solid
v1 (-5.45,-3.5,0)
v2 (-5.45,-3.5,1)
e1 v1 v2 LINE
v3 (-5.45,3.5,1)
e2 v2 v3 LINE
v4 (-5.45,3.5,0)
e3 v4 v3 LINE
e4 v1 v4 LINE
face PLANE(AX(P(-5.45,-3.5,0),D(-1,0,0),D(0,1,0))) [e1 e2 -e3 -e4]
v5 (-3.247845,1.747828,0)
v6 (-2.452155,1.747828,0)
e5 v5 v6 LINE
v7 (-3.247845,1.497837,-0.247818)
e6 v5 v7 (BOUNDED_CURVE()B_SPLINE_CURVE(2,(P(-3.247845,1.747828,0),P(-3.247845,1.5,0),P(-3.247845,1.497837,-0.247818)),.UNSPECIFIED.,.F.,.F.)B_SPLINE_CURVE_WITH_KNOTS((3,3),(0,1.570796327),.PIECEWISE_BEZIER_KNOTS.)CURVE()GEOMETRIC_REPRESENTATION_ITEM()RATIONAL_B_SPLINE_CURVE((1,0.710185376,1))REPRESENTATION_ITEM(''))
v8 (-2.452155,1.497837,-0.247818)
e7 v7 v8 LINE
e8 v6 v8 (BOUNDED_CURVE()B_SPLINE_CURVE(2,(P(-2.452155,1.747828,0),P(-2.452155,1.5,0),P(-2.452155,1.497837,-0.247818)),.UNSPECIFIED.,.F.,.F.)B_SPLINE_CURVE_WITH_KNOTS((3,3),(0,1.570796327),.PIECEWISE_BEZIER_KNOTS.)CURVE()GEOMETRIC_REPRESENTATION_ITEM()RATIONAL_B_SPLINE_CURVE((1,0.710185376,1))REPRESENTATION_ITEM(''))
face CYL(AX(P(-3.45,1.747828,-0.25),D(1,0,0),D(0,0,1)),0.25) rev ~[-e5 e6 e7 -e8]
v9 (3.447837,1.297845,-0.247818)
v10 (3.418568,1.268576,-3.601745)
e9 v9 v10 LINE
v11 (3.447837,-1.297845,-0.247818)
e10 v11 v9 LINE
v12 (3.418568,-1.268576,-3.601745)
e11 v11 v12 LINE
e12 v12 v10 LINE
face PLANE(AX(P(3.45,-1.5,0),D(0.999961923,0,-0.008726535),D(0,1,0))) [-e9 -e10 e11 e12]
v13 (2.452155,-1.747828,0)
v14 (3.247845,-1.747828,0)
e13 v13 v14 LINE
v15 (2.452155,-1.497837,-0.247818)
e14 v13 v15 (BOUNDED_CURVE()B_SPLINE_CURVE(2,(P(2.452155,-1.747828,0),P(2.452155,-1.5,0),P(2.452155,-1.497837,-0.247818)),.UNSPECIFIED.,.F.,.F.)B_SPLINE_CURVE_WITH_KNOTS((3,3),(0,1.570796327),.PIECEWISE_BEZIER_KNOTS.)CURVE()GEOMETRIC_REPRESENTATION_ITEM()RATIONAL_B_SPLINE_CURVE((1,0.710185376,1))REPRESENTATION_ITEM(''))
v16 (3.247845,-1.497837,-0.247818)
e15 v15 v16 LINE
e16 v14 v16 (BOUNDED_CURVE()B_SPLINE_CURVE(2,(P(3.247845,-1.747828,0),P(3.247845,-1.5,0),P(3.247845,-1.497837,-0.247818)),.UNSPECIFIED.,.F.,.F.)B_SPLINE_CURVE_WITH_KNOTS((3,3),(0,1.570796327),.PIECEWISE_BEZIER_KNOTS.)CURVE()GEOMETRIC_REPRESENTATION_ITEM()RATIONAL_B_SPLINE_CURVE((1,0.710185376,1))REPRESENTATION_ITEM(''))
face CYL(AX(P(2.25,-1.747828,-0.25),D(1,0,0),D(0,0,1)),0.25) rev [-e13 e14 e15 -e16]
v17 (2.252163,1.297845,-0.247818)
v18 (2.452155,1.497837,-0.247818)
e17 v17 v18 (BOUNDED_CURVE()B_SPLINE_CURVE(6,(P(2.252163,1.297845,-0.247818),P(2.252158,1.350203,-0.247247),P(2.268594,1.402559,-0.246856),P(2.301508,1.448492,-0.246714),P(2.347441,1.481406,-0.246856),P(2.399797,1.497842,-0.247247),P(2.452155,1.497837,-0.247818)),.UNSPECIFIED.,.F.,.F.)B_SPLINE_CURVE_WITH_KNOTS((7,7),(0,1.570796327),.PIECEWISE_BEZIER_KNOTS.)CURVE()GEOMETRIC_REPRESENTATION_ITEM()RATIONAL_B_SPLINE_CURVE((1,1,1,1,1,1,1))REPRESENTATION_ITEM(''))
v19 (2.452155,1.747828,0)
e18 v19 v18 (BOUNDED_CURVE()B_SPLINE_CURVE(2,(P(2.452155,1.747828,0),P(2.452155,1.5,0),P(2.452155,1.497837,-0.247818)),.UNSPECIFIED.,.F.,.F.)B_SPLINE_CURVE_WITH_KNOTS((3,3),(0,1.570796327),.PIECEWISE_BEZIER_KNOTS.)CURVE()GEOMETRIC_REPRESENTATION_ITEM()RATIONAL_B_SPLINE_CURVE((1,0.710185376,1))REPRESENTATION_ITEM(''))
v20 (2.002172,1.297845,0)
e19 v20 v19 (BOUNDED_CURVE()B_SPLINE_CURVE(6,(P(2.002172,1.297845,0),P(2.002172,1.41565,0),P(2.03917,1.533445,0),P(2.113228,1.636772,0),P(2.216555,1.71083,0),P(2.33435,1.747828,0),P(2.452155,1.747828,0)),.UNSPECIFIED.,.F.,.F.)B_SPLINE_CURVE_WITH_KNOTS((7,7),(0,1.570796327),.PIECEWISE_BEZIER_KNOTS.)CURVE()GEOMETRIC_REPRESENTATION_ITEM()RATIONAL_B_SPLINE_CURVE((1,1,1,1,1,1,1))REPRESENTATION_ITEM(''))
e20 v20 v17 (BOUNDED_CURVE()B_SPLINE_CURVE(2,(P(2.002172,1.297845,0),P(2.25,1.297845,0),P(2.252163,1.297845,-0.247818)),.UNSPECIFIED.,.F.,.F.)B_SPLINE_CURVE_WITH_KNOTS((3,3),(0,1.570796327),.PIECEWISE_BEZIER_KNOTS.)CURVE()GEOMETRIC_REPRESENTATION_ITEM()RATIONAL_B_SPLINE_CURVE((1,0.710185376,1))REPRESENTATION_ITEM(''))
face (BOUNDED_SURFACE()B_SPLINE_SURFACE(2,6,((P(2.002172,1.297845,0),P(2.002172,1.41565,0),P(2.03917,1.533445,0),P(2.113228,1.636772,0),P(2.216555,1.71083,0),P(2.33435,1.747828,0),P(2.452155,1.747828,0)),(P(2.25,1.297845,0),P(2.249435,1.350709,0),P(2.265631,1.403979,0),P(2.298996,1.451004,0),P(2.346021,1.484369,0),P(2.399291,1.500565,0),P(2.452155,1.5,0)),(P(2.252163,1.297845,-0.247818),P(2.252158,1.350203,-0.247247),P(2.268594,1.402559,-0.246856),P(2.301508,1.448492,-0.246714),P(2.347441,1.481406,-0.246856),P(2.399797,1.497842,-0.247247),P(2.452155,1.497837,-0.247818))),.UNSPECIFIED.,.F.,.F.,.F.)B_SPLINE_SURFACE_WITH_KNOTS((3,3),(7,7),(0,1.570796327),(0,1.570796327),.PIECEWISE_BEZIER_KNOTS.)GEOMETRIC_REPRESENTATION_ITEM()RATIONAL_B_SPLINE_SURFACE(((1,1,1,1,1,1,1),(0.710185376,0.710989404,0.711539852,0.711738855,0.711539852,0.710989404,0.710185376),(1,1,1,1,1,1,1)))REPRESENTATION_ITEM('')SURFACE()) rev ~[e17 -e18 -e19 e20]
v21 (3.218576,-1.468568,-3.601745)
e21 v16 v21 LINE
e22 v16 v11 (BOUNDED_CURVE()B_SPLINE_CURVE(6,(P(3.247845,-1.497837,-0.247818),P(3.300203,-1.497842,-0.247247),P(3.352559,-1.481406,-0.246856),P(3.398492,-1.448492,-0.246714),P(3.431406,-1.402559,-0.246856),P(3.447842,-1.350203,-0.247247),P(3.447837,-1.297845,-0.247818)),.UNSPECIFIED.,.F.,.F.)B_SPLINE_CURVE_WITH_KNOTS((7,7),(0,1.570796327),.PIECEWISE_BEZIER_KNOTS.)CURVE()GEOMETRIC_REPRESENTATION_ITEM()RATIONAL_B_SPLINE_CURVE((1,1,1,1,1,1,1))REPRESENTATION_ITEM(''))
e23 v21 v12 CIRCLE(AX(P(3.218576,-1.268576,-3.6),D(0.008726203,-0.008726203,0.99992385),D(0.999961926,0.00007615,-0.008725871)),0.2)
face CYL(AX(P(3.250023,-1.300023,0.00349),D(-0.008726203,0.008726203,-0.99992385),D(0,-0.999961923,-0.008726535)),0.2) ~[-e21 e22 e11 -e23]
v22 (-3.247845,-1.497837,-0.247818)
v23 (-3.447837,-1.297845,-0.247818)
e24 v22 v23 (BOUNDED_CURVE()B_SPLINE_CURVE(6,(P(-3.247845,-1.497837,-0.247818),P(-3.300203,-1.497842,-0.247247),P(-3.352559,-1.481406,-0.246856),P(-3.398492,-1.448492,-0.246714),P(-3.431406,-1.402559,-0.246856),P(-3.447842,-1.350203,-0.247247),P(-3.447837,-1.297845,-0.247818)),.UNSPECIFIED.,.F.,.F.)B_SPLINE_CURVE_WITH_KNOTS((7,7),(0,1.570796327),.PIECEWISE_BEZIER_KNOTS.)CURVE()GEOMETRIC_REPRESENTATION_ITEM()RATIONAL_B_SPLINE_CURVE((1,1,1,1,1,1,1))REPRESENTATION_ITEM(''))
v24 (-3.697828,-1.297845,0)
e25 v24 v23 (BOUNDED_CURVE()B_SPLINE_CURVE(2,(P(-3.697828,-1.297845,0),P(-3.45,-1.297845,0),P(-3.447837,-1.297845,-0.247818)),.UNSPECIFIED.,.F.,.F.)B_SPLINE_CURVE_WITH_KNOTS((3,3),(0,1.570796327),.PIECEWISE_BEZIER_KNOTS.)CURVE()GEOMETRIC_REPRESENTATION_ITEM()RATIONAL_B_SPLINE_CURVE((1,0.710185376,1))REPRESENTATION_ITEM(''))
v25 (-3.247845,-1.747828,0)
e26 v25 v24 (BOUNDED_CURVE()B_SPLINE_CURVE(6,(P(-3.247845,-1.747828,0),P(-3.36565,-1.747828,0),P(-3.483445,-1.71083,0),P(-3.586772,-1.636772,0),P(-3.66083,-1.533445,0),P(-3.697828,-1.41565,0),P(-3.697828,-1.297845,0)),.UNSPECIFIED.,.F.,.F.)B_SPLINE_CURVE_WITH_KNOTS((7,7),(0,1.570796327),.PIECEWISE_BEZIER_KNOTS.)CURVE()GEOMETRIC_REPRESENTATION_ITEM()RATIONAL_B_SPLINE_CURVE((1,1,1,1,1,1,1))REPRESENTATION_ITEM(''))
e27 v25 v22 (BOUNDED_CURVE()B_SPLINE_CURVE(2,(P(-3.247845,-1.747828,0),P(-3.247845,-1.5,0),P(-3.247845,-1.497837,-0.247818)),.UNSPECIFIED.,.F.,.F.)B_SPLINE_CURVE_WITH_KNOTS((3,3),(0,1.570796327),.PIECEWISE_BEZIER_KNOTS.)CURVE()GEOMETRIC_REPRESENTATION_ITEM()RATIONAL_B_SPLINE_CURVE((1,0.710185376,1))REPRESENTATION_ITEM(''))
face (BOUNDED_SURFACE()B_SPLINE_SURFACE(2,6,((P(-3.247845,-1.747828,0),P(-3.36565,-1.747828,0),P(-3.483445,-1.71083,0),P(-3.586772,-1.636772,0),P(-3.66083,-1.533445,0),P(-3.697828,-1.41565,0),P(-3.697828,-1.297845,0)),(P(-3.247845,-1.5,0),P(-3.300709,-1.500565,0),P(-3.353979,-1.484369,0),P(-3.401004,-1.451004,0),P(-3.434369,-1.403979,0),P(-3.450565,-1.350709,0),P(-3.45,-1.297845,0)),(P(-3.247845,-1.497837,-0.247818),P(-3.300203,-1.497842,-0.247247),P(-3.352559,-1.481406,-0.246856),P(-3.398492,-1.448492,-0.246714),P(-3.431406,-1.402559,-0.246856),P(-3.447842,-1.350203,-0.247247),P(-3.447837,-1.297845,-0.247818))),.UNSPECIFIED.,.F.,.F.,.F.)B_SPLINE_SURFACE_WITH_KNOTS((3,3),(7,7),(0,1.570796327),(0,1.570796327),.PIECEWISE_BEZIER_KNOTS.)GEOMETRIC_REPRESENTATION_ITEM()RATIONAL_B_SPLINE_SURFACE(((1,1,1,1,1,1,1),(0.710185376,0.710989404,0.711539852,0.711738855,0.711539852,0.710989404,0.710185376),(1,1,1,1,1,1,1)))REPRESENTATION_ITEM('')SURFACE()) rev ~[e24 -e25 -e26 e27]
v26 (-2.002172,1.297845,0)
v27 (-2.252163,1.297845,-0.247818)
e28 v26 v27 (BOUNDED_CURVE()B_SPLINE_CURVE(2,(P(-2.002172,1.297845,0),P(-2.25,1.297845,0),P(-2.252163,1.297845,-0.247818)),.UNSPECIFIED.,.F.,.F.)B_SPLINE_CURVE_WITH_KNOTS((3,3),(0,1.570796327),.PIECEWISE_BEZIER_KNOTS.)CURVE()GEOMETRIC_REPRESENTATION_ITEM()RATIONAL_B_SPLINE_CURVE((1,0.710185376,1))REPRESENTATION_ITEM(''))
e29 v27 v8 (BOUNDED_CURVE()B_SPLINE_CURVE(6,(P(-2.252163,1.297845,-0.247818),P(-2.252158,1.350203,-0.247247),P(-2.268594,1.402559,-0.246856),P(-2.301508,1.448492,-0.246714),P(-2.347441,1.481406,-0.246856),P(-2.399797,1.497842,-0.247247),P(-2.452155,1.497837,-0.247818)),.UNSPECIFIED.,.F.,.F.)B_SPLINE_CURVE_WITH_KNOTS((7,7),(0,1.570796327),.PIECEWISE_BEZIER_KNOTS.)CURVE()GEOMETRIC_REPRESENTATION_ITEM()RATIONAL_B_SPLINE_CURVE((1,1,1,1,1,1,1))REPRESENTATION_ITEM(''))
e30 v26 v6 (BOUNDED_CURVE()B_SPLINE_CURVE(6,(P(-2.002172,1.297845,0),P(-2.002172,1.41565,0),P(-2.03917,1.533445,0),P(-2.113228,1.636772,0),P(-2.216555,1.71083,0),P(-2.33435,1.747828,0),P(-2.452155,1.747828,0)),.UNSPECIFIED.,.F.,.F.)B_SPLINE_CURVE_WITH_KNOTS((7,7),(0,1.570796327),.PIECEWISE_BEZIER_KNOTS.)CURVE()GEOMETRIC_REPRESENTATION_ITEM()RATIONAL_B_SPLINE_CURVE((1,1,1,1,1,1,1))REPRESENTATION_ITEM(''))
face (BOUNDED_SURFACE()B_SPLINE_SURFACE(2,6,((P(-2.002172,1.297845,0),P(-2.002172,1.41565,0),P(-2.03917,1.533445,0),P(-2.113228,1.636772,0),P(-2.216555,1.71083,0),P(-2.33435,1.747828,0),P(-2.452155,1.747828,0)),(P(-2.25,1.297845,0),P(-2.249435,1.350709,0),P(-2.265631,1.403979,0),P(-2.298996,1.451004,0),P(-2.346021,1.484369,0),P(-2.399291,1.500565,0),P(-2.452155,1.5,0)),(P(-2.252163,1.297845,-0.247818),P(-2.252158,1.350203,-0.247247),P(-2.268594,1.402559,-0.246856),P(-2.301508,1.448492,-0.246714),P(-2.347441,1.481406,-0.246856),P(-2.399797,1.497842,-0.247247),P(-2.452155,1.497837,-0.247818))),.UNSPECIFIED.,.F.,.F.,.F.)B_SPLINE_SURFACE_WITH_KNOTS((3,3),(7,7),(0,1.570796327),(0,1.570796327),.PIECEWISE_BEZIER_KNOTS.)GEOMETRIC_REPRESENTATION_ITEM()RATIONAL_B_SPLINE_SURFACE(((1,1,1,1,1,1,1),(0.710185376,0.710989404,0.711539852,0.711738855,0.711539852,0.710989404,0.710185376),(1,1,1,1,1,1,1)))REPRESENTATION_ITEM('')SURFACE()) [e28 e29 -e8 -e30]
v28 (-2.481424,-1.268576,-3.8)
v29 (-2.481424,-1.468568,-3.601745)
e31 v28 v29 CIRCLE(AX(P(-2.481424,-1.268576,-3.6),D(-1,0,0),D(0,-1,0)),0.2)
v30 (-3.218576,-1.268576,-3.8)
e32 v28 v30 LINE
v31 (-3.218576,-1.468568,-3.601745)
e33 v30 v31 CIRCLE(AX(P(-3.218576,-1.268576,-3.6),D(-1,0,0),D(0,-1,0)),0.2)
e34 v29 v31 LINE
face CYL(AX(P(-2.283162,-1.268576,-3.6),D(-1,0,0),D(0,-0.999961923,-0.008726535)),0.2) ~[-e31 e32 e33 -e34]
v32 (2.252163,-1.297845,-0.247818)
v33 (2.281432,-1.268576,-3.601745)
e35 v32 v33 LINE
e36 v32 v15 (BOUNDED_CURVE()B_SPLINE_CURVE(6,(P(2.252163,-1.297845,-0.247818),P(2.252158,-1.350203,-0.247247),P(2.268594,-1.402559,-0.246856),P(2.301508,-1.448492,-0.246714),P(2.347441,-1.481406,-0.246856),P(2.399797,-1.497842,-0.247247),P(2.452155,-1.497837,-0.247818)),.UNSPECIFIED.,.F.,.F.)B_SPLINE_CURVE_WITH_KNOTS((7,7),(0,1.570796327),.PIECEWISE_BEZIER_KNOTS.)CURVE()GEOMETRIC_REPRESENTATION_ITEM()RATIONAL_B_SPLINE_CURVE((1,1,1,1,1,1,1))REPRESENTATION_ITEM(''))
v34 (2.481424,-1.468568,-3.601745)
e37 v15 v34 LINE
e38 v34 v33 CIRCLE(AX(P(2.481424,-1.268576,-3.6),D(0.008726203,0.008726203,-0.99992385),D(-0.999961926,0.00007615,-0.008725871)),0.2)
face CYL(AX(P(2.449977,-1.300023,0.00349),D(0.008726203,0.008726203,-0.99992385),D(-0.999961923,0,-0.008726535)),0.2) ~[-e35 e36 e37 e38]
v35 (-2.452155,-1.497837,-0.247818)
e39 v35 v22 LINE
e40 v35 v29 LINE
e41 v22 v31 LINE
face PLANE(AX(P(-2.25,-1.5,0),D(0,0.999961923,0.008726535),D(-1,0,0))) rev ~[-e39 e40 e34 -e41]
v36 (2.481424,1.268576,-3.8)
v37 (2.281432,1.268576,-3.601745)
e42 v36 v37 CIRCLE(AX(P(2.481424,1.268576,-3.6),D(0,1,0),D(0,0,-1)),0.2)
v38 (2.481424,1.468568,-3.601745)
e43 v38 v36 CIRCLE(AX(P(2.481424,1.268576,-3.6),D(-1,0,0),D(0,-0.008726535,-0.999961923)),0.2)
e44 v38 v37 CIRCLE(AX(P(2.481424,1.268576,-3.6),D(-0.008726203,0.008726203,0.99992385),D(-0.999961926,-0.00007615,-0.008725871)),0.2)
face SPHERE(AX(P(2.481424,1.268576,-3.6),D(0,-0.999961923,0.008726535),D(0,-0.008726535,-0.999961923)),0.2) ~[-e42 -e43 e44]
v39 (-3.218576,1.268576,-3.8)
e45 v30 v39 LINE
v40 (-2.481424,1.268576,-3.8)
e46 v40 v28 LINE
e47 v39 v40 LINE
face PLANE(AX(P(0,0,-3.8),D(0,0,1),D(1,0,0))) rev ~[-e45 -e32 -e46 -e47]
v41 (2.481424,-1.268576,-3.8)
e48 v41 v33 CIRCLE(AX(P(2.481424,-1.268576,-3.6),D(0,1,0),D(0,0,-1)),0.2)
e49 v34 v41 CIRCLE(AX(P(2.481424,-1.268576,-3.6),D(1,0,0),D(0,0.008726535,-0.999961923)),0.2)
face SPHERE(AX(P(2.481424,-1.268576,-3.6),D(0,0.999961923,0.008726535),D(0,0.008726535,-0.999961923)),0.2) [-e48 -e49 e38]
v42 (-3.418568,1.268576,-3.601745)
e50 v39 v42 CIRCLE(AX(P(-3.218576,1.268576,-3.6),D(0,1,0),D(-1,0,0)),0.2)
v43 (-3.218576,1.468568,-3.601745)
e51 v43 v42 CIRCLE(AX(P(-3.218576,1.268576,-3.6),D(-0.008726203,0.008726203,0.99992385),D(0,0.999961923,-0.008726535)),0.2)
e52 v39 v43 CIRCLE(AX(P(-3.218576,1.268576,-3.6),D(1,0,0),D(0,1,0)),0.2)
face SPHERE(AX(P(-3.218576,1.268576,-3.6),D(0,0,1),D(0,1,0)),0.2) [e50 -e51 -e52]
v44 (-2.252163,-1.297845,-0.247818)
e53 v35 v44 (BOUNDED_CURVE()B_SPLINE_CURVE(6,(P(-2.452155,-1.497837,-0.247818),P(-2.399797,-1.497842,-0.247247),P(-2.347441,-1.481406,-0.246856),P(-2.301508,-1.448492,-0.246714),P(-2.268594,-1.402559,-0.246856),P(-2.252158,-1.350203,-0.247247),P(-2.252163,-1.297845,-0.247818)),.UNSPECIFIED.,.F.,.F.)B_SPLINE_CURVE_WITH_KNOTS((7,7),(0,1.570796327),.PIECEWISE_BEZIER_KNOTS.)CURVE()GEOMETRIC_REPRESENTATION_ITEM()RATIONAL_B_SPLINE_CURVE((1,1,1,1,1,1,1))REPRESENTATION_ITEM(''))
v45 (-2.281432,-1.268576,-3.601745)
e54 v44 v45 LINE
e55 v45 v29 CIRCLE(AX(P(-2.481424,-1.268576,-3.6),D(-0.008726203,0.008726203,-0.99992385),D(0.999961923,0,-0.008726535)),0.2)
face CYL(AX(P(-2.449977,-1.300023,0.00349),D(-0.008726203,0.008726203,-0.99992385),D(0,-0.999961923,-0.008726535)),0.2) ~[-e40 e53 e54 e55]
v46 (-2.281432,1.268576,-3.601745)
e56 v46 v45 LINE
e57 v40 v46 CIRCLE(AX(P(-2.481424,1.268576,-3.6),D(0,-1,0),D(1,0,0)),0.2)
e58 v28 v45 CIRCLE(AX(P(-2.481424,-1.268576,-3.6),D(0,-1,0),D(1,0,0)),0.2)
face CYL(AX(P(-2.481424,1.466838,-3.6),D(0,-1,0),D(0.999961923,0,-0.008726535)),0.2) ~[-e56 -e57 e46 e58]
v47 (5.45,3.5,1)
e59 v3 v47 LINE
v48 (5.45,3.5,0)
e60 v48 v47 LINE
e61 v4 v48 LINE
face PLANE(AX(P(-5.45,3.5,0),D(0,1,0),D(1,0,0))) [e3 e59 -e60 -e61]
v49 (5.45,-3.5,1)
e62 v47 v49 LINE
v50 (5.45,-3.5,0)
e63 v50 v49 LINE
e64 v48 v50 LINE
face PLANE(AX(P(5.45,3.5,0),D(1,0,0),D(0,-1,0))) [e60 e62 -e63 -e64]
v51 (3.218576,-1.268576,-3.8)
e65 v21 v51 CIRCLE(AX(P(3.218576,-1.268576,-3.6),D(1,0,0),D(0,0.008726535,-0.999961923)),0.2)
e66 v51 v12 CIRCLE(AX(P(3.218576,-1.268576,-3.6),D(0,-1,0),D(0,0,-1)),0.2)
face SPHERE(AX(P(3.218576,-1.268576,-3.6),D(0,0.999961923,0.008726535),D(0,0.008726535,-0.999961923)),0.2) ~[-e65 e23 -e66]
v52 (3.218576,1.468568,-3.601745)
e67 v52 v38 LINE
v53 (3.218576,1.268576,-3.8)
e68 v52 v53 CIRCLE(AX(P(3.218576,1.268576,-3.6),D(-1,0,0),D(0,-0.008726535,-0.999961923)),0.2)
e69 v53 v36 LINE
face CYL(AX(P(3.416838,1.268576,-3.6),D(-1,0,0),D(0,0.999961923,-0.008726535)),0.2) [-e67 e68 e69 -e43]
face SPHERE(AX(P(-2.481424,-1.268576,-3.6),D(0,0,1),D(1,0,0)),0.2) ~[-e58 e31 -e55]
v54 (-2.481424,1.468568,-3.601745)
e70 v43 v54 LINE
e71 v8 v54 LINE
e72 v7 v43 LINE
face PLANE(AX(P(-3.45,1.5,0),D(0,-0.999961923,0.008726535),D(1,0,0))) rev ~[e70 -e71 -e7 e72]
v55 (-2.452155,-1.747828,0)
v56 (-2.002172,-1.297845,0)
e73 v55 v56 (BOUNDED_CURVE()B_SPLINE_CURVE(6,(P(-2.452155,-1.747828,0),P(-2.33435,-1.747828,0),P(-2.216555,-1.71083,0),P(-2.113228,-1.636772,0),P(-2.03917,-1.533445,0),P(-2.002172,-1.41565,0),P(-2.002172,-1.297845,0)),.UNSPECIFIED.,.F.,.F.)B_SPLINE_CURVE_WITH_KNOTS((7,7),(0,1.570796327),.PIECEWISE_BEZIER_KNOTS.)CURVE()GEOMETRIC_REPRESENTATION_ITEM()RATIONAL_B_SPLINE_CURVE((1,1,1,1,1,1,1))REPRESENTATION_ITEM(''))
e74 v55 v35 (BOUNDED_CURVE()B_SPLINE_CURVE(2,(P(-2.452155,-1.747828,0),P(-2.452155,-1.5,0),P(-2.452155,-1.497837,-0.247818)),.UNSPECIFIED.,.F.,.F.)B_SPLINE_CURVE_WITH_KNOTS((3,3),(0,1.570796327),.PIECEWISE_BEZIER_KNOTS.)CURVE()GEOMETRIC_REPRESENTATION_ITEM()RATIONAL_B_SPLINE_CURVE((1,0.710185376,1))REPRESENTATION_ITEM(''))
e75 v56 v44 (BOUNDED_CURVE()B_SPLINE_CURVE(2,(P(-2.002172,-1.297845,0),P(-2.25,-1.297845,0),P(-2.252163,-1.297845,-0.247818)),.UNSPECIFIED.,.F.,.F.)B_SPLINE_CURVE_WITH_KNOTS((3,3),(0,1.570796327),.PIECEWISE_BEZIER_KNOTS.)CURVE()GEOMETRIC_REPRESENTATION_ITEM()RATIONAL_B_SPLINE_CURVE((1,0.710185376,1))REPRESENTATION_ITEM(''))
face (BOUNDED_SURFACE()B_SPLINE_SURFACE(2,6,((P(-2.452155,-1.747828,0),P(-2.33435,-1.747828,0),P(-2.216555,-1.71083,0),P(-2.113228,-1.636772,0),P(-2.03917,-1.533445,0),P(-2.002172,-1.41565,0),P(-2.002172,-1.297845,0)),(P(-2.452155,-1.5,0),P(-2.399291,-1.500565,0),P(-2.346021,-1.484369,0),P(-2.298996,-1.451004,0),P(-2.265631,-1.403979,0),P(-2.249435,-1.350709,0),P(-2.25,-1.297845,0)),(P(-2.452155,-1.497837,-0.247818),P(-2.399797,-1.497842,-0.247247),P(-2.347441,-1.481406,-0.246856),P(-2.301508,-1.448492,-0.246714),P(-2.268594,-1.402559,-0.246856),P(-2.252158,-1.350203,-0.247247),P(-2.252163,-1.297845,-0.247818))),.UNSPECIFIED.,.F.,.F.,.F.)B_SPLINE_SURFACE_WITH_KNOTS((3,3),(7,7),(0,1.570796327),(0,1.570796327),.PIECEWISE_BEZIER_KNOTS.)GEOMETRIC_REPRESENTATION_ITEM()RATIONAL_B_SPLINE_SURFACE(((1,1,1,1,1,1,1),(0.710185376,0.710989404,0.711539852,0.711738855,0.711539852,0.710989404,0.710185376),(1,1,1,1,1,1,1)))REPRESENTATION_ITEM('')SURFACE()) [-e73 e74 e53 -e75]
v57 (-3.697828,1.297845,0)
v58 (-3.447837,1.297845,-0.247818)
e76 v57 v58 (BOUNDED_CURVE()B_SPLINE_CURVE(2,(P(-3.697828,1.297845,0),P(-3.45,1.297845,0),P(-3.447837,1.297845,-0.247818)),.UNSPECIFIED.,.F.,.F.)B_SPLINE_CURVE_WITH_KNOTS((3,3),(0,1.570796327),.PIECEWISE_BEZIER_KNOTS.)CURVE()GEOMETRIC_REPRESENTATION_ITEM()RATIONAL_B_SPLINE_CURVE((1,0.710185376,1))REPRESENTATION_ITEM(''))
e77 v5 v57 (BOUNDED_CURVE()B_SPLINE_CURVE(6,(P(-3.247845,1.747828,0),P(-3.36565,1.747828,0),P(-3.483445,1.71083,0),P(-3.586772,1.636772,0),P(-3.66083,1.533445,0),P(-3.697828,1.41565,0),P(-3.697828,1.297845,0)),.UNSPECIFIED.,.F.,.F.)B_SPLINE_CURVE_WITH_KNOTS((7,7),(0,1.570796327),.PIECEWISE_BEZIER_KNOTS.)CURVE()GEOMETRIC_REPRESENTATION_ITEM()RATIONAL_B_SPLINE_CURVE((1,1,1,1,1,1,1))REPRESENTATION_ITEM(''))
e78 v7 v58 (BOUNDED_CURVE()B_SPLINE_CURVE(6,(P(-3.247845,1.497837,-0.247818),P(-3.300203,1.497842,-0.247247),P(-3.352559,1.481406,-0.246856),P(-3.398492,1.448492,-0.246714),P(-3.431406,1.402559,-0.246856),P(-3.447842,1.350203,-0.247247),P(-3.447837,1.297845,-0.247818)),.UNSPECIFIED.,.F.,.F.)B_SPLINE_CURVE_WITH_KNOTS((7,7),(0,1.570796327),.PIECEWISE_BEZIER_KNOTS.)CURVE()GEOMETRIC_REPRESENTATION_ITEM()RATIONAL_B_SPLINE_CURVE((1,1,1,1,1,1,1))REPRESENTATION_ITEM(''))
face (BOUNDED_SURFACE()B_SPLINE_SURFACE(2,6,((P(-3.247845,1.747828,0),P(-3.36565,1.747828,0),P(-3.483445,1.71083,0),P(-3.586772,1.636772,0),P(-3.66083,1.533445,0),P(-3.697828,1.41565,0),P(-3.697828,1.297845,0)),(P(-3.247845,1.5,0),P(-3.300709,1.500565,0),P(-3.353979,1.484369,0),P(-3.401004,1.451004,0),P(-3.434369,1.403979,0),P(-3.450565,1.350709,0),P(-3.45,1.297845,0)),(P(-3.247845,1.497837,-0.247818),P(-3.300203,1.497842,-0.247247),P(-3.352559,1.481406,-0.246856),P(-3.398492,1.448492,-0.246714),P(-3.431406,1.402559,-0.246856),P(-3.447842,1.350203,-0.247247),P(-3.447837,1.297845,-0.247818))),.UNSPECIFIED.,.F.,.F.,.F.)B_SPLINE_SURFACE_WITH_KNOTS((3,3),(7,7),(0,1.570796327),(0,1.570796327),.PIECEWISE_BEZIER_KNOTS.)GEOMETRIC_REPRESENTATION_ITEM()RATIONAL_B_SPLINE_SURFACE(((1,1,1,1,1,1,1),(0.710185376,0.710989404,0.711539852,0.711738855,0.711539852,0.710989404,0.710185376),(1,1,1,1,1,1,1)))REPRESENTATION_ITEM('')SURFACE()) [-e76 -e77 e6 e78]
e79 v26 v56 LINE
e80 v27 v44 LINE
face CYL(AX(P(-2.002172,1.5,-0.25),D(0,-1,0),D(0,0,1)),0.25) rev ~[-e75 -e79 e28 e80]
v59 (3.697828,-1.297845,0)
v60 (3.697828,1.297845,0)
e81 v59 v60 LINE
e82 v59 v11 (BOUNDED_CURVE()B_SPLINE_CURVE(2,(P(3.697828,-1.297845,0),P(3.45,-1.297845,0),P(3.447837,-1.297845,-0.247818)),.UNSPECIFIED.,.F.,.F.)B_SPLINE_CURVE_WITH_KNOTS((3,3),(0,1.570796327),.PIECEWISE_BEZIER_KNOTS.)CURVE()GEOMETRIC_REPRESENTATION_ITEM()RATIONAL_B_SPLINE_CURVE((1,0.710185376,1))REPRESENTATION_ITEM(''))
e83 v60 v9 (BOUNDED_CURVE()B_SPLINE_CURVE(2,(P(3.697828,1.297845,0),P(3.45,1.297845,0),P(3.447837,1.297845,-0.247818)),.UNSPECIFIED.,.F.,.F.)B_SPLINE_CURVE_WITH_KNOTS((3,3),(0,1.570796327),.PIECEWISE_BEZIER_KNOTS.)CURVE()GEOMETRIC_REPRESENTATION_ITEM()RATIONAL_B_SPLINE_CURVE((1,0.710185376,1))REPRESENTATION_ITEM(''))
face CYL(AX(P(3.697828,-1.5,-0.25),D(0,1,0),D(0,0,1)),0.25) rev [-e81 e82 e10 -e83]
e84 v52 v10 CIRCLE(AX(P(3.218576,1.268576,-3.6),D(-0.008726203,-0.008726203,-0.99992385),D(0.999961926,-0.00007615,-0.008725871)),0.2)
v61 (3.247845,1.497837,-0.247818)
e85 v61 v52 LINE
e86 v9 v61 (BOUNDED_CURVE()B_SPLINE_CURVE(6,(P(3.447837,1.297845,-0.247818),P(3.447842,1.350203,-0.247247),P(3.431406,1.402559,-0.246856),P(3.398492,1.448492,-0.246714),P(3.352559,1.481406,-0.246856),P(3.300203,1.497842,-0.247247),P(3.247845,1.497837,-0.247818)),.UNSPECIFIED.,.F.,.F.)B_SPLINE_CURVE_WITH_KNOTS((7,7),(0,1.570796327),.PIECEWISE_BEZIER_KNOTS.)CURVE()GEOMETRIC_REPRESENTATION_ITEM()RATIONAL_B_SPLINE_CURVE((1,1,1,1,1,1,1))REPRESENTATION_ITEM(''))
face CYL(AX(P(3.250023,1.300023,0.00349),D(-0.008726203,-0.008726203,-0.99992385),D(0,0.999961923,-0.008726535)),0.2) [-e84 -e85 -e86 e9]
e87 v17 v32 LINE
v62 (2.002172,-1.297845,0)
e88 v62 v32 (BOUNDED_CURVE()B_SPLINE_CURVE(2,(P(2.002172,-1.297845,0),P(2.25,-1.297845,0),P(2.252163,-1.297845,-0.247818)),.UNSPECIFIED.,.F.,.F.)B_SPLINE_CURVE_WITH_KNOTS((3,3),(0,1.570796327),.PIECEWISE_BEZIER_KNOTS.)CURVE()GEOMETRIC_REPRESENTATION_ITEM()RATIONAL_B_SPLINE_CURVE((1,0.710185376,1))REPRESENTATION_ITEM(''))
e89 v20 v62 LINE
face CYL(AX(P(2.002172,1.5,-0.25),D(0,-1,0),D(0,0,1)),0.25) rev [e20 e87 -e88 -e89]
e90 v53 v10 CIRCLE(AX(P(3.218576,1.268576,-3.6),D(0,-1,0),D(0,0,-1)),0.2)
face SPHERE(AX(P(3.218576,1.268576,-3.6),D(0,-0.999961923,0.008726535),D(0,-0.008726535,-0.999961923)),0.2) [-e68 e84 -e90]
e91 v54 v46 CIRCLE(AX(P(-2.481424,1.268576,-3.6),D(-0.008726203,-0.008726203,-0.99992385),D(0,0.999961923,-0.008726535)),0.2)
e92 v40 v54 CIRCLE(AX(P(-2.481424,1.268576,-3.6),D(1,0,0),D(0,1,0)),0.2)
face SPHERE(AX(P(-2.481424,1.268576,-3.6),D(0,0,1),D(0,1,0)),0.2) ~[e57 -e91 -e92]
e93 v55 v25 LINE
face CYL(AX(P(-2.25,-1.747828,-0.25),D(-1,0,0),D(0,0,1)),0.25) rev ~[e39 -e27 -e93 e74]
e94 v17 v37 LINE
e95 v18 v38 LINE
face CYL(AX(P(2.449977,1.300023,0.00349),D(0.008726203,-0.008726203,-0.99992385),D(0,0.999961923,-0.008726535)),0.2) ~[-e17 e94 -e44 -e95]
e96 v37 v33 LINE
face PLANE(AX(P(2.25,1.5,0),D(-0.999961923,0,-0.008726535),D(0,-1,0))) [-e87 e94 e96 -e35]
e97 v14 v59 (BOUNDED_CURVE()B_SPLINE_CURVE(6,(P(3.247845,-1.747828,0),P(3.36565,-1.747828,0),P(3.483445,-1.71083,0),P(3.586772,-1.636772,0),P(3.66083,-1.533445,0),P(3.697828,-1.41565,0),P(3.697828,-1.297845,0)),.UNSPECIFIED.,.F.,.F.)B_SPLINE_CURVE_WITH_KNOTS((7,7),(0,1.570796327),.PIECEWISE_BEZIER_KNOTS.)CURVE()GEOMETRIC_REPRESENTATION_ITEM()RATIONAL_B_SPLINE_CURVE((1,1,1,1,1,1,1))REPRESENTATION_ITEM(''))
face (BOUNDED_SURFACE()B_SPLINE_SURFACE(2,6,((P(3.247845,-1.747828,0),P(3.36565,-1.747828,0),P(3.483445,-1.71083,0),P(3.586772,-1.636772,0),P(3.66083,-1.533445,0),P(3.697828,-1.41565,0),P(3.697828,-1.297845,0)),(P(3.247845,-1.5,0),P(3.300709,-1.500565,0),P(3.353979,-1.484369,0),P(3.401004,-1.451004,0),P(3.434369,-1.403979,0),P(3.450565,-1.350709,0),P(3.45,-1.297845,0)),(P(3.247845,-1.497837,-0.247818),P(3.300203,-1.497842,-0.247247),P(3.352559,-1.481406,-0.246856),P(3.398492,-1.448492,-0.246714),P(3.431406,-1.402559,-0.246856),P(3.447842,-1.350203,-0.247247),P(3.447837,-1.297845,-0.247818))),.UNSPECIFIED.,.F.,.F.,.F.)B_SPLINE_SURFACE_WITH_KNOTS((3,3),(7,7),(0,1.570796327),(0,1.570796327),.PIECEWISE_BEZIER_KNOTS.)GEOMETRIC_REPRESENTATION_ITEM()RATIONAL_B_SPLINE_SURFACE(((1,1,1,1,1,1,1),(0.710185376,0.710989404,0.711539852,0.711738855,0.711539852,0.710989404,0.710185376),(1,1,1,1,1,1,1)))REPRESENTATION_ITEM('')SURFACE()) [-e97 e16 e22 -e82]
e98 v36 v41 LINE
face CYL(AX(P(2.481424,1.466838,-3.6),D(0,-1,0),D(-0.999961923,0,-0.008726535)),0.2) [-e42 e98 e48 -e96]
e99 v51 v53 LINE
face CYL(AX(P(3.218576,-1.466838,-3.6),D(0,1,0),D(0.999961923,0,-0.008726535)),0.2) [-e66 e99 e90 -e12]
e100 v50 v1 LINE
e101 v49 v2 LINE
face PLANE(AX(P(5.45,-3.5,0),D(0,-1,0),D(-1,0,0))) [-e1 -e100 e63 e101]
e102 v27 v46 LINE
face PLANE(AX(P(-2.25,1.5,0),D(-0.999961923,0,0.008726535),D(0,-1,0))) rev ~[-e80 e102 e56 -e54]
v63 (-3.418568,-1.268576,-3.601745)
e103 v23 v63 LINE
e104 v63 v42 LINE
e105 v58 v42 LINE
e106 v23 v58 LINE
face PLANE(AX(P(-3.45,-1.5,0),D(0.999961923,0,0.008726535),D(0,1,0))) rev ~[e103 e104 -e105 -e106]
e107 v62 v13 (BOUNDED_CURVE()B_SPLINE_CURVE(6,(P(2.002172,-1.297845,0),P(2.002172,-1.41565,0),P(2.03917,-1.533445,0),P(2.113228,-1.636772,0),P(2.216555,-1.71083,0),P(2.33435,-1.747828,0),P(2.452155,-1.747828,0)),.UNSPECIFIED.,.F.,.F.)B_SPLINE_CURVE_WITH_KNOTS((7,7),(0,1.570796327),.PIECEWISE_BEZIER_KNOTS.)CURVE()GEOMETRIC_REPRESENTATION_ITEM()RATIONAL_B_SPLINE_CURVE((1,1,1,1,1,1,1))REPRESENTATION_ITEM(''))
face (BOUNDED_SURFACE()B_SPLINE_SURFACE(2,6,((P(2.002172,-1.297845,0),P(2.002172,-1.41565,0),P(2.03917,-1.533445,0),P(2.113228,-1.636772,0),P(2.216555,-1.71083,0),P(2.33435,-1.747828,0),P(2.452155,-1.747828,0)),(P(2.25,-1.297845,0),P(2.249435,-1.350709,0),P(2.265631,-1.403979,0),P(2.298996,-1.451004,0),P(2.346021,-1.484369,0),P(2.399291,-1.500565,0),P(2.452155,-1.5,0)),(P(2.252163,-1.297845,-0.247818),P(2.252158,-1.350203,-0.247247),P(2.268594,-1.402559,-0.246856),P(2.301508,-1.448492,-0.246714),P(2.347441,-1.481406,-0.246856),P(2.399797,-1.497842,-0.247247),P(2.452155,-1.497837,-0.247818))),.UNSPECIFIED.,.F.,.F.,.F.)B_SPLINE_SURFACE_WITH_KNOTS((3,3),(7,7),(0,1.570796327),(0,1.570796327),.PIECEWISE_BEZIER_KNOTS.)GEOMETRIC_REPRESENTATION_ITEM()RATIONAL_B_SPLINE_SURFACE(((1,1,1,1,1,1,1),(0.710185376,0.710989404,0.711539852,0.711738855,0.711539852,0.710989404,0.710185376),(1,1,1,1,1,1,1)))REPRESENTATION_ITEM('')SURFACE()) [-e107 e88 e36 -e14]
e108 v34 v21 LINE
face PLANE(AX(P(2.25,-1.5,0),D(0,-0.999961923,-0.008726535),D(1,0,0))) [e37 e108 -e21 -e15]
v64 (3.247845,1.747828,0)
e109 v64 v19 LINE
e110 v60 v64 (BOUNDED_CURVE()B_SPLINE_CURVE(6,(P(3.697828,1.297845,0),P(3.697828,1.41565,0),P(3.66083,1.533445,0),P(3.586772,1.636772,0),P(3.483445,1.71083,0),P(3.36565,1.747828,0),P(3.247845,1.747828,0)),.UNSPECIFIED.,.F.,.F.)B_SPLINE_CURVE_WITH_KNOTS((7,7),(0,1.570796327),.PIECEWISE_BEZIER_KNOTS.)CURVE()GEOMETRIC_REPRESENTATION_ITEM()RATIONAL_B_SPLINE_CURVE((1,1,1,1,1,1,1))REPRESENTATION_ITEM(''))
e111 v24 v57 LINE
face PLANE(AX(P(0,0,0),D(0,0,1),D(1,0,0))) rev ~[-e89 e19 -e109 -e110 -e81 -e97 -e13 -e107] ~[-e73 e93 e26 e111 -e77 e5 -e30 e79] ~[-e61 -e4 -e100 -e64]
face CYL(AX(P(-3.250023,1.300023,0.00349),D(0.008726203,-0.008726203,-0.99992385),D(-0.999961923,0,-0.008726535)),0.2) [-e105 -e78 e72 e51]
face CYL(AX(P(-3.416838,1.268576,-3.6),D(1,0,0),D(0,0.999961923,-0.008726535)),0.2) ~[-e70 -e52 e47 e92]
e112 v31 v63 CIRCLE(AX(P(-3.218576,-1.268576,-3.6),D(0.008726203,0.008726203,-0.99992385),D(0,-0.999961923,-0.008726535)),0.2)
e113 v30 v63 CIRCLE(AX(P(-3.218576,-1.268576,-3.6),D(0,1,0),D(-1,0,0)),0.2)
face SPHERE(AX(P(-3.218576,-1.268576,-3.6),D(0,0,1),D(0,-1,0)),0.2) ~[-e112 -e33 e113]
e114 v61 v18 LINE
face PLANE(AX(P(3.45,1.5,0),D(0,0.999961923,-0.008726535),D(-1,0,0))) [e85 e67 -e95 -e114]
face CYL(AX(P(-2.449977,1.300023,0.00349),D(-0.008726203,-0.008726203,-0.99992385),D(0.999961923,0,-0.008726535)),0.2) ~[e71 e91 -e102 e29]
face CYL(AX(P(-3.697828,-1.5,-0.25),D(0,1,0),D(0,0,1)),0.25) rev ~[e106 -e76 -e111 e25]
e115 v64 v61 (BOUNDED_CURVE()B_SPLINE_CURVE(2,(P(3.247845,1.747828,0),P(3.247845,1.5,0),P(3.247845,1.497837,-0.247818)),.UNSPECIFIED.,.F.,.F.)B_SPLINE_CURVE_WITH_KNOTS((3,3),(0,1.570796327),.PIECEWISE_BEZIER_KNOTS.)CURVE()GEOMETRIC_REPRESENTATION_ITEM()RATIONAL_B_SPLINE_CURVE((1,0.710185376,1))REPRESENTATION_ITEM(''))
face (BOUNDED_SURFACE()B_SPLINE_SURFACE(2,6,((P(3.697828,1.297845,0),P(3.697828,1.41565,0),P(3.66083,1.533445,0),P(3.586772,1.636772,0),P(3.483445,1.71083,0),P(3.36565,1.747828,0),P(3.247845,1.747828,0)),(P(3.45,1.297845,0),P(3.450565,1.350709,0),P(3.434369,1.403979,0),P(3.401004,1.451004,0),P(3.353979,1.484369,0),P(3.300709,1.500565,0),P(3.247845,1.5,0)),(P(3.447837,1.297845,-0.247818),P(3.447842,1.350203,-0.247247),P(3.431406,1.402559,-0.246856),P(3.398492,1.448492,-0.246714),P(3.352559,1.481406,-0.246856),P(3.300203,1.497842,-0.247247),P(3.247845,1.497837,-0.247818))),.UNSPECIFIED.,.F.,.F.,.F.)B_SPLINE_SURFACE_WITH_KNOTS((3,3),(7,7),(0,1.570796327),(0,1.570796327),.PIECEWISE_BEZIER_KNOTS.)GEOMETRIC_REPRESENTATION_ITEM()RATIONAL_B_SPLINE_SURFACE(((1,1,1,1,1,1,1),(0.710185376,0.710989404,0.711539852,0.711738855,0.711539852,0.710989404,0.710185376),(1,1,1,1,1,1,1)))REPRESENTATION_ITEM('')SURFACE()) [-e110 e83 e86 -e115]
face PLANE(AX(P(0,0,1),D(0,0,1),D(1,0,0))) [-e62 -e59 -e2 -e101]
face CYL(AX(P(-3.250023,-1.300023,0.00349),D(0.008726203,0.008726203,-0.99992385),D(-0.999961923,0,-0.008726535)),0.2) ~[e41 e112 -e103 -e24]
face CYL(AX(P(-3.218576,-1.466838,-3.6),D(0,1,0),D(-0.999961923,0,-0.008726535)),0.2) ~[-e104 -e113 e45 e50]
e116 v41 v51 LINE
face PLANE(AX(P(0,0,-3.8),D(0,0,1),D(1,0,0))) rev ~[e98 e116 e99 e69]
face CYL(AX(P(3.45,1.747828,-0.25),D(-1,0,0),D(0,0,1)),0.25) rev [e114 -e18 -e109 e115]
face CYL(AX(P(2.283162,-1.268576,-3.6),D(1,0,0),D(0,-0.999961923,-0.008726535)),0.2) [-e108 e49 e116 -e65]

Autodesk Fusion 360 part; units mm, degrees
sketch "Sketch1" plane through (0, 0, 0) normal (0, 0, 1) x (1, 0, 0)
  line L0 (-3.45, 1.5) -> (-2.25, 1.5)
  line L1 (-2.25, 1.5) -> (-2.25, -1.5)
  line L2 (-2.25, -1.5) -> (-3.45, -1.5)
  line L3 (-3.45, -1.5) -> (-3.45, 1.5)
  line L4 (-5.45, -1.5) -> (-5.45, 1.5) construction
  line L5 (-3.45, 3.5) -> (-2.25, 3.5) construction
  line L6 (-3.45, 3.5) -> (-5.45, 3.5) construction
  line L7 (-5.45, 3.5) -> (-5.45, 1.5) construction
  line L8 (-5.45, 3.5) -> (5.45, 3.5)
  line L9 (5.45, 3.5) -> (5.45, -3.5)
  line L10 (5.45, -3.5) -> (-5.45, -3.5)
  line L11 (-5.45, -3.5) -> (-5.45, 3.5)
  line L12 (0, 1.75) -> (0, 22.5) construction
  line L13 (2.25, 1.5) -> (2.25, -1.5)
  line L14 (2.25, -1.5) -> (3.45, -1.5)
  line L15 (3.45, -1.5) -> (3.45, 1.5)
  line L16 (3.45, 1.5) -> (2.25, 1.5)
  line L17 (1.75, 0) -> (22.5, 0) construction
  dimension "d2" = 1.2
  dimension "d3" = 3
  dimension "d8" = -2
  dimension "d9" = -2
  dimension "d20" = 4.5
  dimension "d21" = 2
  dimension "d22" = 2
  dimension "d23" = 1.5
extrude "Extrude1" add sketch "Sketch1" against normal blind 3.8 draft -0.5 contours L0 L1 L2 L3 | L13 L14 L15 L16 makes body 1 at (-2.2611, 0.4889, -1.2667) makes body 2 at (3.4389, -0.4889, -1.2667)
extrude "Extrude2" add sketch "Sketch1" along normal blind 1 contours L0 L1 L2 L3 | L8 L9 L10 L11 | L13 L14 L15 L16 bodies 1 2
fillet "Fillet1" radius 0.2 4 edges at (-2.2666, 1.4834, -1.9) (-2.2666, -1.4834, -1.9) (-3.4334, 1.4834, -1.9) (-3.4334, -1.4834, -1.9) on bodies 1
fillet "Fillet1" radius 0.25 4 edges at (-2.85, -1.5, 0) (-2.25, 0, 0) (-2.85, 1.5, 0) (-3.45, 0, 0) on bodies 1
fillet "Fillet1" radius 0.2 4 edges at (-2.85, 1.4668, -3.8) (-2.2832, 0, -3.8) (-2.85, -1.4668, -3.8) (-3.4168, 0, -3.8) on bodies 1
fillet "Fillet1" radius 0.2 4 edges at (3.4168, 0, -3.8) (2.2832, 0, -3.8) (2.85, -1.4668, -3.8) (2.85, 1.4668, -3.8) on bodies 1
fillet "Fillet1" radius 0.2 4 edges at (3.4334, -1.4834, -1.9) (2.2666, -1.4834, -1.9) (2.2666, 1.4834, -1.9) (3.4334, 1.4834, -1.9) on bodies 1
fillet "Fillet1" radius 0.25 4 edges at (2.25, 0, 0) (2.85, -1.5, 0) (3.45, 0, 0) (2.85, 1.5, 0) on bodies 1
